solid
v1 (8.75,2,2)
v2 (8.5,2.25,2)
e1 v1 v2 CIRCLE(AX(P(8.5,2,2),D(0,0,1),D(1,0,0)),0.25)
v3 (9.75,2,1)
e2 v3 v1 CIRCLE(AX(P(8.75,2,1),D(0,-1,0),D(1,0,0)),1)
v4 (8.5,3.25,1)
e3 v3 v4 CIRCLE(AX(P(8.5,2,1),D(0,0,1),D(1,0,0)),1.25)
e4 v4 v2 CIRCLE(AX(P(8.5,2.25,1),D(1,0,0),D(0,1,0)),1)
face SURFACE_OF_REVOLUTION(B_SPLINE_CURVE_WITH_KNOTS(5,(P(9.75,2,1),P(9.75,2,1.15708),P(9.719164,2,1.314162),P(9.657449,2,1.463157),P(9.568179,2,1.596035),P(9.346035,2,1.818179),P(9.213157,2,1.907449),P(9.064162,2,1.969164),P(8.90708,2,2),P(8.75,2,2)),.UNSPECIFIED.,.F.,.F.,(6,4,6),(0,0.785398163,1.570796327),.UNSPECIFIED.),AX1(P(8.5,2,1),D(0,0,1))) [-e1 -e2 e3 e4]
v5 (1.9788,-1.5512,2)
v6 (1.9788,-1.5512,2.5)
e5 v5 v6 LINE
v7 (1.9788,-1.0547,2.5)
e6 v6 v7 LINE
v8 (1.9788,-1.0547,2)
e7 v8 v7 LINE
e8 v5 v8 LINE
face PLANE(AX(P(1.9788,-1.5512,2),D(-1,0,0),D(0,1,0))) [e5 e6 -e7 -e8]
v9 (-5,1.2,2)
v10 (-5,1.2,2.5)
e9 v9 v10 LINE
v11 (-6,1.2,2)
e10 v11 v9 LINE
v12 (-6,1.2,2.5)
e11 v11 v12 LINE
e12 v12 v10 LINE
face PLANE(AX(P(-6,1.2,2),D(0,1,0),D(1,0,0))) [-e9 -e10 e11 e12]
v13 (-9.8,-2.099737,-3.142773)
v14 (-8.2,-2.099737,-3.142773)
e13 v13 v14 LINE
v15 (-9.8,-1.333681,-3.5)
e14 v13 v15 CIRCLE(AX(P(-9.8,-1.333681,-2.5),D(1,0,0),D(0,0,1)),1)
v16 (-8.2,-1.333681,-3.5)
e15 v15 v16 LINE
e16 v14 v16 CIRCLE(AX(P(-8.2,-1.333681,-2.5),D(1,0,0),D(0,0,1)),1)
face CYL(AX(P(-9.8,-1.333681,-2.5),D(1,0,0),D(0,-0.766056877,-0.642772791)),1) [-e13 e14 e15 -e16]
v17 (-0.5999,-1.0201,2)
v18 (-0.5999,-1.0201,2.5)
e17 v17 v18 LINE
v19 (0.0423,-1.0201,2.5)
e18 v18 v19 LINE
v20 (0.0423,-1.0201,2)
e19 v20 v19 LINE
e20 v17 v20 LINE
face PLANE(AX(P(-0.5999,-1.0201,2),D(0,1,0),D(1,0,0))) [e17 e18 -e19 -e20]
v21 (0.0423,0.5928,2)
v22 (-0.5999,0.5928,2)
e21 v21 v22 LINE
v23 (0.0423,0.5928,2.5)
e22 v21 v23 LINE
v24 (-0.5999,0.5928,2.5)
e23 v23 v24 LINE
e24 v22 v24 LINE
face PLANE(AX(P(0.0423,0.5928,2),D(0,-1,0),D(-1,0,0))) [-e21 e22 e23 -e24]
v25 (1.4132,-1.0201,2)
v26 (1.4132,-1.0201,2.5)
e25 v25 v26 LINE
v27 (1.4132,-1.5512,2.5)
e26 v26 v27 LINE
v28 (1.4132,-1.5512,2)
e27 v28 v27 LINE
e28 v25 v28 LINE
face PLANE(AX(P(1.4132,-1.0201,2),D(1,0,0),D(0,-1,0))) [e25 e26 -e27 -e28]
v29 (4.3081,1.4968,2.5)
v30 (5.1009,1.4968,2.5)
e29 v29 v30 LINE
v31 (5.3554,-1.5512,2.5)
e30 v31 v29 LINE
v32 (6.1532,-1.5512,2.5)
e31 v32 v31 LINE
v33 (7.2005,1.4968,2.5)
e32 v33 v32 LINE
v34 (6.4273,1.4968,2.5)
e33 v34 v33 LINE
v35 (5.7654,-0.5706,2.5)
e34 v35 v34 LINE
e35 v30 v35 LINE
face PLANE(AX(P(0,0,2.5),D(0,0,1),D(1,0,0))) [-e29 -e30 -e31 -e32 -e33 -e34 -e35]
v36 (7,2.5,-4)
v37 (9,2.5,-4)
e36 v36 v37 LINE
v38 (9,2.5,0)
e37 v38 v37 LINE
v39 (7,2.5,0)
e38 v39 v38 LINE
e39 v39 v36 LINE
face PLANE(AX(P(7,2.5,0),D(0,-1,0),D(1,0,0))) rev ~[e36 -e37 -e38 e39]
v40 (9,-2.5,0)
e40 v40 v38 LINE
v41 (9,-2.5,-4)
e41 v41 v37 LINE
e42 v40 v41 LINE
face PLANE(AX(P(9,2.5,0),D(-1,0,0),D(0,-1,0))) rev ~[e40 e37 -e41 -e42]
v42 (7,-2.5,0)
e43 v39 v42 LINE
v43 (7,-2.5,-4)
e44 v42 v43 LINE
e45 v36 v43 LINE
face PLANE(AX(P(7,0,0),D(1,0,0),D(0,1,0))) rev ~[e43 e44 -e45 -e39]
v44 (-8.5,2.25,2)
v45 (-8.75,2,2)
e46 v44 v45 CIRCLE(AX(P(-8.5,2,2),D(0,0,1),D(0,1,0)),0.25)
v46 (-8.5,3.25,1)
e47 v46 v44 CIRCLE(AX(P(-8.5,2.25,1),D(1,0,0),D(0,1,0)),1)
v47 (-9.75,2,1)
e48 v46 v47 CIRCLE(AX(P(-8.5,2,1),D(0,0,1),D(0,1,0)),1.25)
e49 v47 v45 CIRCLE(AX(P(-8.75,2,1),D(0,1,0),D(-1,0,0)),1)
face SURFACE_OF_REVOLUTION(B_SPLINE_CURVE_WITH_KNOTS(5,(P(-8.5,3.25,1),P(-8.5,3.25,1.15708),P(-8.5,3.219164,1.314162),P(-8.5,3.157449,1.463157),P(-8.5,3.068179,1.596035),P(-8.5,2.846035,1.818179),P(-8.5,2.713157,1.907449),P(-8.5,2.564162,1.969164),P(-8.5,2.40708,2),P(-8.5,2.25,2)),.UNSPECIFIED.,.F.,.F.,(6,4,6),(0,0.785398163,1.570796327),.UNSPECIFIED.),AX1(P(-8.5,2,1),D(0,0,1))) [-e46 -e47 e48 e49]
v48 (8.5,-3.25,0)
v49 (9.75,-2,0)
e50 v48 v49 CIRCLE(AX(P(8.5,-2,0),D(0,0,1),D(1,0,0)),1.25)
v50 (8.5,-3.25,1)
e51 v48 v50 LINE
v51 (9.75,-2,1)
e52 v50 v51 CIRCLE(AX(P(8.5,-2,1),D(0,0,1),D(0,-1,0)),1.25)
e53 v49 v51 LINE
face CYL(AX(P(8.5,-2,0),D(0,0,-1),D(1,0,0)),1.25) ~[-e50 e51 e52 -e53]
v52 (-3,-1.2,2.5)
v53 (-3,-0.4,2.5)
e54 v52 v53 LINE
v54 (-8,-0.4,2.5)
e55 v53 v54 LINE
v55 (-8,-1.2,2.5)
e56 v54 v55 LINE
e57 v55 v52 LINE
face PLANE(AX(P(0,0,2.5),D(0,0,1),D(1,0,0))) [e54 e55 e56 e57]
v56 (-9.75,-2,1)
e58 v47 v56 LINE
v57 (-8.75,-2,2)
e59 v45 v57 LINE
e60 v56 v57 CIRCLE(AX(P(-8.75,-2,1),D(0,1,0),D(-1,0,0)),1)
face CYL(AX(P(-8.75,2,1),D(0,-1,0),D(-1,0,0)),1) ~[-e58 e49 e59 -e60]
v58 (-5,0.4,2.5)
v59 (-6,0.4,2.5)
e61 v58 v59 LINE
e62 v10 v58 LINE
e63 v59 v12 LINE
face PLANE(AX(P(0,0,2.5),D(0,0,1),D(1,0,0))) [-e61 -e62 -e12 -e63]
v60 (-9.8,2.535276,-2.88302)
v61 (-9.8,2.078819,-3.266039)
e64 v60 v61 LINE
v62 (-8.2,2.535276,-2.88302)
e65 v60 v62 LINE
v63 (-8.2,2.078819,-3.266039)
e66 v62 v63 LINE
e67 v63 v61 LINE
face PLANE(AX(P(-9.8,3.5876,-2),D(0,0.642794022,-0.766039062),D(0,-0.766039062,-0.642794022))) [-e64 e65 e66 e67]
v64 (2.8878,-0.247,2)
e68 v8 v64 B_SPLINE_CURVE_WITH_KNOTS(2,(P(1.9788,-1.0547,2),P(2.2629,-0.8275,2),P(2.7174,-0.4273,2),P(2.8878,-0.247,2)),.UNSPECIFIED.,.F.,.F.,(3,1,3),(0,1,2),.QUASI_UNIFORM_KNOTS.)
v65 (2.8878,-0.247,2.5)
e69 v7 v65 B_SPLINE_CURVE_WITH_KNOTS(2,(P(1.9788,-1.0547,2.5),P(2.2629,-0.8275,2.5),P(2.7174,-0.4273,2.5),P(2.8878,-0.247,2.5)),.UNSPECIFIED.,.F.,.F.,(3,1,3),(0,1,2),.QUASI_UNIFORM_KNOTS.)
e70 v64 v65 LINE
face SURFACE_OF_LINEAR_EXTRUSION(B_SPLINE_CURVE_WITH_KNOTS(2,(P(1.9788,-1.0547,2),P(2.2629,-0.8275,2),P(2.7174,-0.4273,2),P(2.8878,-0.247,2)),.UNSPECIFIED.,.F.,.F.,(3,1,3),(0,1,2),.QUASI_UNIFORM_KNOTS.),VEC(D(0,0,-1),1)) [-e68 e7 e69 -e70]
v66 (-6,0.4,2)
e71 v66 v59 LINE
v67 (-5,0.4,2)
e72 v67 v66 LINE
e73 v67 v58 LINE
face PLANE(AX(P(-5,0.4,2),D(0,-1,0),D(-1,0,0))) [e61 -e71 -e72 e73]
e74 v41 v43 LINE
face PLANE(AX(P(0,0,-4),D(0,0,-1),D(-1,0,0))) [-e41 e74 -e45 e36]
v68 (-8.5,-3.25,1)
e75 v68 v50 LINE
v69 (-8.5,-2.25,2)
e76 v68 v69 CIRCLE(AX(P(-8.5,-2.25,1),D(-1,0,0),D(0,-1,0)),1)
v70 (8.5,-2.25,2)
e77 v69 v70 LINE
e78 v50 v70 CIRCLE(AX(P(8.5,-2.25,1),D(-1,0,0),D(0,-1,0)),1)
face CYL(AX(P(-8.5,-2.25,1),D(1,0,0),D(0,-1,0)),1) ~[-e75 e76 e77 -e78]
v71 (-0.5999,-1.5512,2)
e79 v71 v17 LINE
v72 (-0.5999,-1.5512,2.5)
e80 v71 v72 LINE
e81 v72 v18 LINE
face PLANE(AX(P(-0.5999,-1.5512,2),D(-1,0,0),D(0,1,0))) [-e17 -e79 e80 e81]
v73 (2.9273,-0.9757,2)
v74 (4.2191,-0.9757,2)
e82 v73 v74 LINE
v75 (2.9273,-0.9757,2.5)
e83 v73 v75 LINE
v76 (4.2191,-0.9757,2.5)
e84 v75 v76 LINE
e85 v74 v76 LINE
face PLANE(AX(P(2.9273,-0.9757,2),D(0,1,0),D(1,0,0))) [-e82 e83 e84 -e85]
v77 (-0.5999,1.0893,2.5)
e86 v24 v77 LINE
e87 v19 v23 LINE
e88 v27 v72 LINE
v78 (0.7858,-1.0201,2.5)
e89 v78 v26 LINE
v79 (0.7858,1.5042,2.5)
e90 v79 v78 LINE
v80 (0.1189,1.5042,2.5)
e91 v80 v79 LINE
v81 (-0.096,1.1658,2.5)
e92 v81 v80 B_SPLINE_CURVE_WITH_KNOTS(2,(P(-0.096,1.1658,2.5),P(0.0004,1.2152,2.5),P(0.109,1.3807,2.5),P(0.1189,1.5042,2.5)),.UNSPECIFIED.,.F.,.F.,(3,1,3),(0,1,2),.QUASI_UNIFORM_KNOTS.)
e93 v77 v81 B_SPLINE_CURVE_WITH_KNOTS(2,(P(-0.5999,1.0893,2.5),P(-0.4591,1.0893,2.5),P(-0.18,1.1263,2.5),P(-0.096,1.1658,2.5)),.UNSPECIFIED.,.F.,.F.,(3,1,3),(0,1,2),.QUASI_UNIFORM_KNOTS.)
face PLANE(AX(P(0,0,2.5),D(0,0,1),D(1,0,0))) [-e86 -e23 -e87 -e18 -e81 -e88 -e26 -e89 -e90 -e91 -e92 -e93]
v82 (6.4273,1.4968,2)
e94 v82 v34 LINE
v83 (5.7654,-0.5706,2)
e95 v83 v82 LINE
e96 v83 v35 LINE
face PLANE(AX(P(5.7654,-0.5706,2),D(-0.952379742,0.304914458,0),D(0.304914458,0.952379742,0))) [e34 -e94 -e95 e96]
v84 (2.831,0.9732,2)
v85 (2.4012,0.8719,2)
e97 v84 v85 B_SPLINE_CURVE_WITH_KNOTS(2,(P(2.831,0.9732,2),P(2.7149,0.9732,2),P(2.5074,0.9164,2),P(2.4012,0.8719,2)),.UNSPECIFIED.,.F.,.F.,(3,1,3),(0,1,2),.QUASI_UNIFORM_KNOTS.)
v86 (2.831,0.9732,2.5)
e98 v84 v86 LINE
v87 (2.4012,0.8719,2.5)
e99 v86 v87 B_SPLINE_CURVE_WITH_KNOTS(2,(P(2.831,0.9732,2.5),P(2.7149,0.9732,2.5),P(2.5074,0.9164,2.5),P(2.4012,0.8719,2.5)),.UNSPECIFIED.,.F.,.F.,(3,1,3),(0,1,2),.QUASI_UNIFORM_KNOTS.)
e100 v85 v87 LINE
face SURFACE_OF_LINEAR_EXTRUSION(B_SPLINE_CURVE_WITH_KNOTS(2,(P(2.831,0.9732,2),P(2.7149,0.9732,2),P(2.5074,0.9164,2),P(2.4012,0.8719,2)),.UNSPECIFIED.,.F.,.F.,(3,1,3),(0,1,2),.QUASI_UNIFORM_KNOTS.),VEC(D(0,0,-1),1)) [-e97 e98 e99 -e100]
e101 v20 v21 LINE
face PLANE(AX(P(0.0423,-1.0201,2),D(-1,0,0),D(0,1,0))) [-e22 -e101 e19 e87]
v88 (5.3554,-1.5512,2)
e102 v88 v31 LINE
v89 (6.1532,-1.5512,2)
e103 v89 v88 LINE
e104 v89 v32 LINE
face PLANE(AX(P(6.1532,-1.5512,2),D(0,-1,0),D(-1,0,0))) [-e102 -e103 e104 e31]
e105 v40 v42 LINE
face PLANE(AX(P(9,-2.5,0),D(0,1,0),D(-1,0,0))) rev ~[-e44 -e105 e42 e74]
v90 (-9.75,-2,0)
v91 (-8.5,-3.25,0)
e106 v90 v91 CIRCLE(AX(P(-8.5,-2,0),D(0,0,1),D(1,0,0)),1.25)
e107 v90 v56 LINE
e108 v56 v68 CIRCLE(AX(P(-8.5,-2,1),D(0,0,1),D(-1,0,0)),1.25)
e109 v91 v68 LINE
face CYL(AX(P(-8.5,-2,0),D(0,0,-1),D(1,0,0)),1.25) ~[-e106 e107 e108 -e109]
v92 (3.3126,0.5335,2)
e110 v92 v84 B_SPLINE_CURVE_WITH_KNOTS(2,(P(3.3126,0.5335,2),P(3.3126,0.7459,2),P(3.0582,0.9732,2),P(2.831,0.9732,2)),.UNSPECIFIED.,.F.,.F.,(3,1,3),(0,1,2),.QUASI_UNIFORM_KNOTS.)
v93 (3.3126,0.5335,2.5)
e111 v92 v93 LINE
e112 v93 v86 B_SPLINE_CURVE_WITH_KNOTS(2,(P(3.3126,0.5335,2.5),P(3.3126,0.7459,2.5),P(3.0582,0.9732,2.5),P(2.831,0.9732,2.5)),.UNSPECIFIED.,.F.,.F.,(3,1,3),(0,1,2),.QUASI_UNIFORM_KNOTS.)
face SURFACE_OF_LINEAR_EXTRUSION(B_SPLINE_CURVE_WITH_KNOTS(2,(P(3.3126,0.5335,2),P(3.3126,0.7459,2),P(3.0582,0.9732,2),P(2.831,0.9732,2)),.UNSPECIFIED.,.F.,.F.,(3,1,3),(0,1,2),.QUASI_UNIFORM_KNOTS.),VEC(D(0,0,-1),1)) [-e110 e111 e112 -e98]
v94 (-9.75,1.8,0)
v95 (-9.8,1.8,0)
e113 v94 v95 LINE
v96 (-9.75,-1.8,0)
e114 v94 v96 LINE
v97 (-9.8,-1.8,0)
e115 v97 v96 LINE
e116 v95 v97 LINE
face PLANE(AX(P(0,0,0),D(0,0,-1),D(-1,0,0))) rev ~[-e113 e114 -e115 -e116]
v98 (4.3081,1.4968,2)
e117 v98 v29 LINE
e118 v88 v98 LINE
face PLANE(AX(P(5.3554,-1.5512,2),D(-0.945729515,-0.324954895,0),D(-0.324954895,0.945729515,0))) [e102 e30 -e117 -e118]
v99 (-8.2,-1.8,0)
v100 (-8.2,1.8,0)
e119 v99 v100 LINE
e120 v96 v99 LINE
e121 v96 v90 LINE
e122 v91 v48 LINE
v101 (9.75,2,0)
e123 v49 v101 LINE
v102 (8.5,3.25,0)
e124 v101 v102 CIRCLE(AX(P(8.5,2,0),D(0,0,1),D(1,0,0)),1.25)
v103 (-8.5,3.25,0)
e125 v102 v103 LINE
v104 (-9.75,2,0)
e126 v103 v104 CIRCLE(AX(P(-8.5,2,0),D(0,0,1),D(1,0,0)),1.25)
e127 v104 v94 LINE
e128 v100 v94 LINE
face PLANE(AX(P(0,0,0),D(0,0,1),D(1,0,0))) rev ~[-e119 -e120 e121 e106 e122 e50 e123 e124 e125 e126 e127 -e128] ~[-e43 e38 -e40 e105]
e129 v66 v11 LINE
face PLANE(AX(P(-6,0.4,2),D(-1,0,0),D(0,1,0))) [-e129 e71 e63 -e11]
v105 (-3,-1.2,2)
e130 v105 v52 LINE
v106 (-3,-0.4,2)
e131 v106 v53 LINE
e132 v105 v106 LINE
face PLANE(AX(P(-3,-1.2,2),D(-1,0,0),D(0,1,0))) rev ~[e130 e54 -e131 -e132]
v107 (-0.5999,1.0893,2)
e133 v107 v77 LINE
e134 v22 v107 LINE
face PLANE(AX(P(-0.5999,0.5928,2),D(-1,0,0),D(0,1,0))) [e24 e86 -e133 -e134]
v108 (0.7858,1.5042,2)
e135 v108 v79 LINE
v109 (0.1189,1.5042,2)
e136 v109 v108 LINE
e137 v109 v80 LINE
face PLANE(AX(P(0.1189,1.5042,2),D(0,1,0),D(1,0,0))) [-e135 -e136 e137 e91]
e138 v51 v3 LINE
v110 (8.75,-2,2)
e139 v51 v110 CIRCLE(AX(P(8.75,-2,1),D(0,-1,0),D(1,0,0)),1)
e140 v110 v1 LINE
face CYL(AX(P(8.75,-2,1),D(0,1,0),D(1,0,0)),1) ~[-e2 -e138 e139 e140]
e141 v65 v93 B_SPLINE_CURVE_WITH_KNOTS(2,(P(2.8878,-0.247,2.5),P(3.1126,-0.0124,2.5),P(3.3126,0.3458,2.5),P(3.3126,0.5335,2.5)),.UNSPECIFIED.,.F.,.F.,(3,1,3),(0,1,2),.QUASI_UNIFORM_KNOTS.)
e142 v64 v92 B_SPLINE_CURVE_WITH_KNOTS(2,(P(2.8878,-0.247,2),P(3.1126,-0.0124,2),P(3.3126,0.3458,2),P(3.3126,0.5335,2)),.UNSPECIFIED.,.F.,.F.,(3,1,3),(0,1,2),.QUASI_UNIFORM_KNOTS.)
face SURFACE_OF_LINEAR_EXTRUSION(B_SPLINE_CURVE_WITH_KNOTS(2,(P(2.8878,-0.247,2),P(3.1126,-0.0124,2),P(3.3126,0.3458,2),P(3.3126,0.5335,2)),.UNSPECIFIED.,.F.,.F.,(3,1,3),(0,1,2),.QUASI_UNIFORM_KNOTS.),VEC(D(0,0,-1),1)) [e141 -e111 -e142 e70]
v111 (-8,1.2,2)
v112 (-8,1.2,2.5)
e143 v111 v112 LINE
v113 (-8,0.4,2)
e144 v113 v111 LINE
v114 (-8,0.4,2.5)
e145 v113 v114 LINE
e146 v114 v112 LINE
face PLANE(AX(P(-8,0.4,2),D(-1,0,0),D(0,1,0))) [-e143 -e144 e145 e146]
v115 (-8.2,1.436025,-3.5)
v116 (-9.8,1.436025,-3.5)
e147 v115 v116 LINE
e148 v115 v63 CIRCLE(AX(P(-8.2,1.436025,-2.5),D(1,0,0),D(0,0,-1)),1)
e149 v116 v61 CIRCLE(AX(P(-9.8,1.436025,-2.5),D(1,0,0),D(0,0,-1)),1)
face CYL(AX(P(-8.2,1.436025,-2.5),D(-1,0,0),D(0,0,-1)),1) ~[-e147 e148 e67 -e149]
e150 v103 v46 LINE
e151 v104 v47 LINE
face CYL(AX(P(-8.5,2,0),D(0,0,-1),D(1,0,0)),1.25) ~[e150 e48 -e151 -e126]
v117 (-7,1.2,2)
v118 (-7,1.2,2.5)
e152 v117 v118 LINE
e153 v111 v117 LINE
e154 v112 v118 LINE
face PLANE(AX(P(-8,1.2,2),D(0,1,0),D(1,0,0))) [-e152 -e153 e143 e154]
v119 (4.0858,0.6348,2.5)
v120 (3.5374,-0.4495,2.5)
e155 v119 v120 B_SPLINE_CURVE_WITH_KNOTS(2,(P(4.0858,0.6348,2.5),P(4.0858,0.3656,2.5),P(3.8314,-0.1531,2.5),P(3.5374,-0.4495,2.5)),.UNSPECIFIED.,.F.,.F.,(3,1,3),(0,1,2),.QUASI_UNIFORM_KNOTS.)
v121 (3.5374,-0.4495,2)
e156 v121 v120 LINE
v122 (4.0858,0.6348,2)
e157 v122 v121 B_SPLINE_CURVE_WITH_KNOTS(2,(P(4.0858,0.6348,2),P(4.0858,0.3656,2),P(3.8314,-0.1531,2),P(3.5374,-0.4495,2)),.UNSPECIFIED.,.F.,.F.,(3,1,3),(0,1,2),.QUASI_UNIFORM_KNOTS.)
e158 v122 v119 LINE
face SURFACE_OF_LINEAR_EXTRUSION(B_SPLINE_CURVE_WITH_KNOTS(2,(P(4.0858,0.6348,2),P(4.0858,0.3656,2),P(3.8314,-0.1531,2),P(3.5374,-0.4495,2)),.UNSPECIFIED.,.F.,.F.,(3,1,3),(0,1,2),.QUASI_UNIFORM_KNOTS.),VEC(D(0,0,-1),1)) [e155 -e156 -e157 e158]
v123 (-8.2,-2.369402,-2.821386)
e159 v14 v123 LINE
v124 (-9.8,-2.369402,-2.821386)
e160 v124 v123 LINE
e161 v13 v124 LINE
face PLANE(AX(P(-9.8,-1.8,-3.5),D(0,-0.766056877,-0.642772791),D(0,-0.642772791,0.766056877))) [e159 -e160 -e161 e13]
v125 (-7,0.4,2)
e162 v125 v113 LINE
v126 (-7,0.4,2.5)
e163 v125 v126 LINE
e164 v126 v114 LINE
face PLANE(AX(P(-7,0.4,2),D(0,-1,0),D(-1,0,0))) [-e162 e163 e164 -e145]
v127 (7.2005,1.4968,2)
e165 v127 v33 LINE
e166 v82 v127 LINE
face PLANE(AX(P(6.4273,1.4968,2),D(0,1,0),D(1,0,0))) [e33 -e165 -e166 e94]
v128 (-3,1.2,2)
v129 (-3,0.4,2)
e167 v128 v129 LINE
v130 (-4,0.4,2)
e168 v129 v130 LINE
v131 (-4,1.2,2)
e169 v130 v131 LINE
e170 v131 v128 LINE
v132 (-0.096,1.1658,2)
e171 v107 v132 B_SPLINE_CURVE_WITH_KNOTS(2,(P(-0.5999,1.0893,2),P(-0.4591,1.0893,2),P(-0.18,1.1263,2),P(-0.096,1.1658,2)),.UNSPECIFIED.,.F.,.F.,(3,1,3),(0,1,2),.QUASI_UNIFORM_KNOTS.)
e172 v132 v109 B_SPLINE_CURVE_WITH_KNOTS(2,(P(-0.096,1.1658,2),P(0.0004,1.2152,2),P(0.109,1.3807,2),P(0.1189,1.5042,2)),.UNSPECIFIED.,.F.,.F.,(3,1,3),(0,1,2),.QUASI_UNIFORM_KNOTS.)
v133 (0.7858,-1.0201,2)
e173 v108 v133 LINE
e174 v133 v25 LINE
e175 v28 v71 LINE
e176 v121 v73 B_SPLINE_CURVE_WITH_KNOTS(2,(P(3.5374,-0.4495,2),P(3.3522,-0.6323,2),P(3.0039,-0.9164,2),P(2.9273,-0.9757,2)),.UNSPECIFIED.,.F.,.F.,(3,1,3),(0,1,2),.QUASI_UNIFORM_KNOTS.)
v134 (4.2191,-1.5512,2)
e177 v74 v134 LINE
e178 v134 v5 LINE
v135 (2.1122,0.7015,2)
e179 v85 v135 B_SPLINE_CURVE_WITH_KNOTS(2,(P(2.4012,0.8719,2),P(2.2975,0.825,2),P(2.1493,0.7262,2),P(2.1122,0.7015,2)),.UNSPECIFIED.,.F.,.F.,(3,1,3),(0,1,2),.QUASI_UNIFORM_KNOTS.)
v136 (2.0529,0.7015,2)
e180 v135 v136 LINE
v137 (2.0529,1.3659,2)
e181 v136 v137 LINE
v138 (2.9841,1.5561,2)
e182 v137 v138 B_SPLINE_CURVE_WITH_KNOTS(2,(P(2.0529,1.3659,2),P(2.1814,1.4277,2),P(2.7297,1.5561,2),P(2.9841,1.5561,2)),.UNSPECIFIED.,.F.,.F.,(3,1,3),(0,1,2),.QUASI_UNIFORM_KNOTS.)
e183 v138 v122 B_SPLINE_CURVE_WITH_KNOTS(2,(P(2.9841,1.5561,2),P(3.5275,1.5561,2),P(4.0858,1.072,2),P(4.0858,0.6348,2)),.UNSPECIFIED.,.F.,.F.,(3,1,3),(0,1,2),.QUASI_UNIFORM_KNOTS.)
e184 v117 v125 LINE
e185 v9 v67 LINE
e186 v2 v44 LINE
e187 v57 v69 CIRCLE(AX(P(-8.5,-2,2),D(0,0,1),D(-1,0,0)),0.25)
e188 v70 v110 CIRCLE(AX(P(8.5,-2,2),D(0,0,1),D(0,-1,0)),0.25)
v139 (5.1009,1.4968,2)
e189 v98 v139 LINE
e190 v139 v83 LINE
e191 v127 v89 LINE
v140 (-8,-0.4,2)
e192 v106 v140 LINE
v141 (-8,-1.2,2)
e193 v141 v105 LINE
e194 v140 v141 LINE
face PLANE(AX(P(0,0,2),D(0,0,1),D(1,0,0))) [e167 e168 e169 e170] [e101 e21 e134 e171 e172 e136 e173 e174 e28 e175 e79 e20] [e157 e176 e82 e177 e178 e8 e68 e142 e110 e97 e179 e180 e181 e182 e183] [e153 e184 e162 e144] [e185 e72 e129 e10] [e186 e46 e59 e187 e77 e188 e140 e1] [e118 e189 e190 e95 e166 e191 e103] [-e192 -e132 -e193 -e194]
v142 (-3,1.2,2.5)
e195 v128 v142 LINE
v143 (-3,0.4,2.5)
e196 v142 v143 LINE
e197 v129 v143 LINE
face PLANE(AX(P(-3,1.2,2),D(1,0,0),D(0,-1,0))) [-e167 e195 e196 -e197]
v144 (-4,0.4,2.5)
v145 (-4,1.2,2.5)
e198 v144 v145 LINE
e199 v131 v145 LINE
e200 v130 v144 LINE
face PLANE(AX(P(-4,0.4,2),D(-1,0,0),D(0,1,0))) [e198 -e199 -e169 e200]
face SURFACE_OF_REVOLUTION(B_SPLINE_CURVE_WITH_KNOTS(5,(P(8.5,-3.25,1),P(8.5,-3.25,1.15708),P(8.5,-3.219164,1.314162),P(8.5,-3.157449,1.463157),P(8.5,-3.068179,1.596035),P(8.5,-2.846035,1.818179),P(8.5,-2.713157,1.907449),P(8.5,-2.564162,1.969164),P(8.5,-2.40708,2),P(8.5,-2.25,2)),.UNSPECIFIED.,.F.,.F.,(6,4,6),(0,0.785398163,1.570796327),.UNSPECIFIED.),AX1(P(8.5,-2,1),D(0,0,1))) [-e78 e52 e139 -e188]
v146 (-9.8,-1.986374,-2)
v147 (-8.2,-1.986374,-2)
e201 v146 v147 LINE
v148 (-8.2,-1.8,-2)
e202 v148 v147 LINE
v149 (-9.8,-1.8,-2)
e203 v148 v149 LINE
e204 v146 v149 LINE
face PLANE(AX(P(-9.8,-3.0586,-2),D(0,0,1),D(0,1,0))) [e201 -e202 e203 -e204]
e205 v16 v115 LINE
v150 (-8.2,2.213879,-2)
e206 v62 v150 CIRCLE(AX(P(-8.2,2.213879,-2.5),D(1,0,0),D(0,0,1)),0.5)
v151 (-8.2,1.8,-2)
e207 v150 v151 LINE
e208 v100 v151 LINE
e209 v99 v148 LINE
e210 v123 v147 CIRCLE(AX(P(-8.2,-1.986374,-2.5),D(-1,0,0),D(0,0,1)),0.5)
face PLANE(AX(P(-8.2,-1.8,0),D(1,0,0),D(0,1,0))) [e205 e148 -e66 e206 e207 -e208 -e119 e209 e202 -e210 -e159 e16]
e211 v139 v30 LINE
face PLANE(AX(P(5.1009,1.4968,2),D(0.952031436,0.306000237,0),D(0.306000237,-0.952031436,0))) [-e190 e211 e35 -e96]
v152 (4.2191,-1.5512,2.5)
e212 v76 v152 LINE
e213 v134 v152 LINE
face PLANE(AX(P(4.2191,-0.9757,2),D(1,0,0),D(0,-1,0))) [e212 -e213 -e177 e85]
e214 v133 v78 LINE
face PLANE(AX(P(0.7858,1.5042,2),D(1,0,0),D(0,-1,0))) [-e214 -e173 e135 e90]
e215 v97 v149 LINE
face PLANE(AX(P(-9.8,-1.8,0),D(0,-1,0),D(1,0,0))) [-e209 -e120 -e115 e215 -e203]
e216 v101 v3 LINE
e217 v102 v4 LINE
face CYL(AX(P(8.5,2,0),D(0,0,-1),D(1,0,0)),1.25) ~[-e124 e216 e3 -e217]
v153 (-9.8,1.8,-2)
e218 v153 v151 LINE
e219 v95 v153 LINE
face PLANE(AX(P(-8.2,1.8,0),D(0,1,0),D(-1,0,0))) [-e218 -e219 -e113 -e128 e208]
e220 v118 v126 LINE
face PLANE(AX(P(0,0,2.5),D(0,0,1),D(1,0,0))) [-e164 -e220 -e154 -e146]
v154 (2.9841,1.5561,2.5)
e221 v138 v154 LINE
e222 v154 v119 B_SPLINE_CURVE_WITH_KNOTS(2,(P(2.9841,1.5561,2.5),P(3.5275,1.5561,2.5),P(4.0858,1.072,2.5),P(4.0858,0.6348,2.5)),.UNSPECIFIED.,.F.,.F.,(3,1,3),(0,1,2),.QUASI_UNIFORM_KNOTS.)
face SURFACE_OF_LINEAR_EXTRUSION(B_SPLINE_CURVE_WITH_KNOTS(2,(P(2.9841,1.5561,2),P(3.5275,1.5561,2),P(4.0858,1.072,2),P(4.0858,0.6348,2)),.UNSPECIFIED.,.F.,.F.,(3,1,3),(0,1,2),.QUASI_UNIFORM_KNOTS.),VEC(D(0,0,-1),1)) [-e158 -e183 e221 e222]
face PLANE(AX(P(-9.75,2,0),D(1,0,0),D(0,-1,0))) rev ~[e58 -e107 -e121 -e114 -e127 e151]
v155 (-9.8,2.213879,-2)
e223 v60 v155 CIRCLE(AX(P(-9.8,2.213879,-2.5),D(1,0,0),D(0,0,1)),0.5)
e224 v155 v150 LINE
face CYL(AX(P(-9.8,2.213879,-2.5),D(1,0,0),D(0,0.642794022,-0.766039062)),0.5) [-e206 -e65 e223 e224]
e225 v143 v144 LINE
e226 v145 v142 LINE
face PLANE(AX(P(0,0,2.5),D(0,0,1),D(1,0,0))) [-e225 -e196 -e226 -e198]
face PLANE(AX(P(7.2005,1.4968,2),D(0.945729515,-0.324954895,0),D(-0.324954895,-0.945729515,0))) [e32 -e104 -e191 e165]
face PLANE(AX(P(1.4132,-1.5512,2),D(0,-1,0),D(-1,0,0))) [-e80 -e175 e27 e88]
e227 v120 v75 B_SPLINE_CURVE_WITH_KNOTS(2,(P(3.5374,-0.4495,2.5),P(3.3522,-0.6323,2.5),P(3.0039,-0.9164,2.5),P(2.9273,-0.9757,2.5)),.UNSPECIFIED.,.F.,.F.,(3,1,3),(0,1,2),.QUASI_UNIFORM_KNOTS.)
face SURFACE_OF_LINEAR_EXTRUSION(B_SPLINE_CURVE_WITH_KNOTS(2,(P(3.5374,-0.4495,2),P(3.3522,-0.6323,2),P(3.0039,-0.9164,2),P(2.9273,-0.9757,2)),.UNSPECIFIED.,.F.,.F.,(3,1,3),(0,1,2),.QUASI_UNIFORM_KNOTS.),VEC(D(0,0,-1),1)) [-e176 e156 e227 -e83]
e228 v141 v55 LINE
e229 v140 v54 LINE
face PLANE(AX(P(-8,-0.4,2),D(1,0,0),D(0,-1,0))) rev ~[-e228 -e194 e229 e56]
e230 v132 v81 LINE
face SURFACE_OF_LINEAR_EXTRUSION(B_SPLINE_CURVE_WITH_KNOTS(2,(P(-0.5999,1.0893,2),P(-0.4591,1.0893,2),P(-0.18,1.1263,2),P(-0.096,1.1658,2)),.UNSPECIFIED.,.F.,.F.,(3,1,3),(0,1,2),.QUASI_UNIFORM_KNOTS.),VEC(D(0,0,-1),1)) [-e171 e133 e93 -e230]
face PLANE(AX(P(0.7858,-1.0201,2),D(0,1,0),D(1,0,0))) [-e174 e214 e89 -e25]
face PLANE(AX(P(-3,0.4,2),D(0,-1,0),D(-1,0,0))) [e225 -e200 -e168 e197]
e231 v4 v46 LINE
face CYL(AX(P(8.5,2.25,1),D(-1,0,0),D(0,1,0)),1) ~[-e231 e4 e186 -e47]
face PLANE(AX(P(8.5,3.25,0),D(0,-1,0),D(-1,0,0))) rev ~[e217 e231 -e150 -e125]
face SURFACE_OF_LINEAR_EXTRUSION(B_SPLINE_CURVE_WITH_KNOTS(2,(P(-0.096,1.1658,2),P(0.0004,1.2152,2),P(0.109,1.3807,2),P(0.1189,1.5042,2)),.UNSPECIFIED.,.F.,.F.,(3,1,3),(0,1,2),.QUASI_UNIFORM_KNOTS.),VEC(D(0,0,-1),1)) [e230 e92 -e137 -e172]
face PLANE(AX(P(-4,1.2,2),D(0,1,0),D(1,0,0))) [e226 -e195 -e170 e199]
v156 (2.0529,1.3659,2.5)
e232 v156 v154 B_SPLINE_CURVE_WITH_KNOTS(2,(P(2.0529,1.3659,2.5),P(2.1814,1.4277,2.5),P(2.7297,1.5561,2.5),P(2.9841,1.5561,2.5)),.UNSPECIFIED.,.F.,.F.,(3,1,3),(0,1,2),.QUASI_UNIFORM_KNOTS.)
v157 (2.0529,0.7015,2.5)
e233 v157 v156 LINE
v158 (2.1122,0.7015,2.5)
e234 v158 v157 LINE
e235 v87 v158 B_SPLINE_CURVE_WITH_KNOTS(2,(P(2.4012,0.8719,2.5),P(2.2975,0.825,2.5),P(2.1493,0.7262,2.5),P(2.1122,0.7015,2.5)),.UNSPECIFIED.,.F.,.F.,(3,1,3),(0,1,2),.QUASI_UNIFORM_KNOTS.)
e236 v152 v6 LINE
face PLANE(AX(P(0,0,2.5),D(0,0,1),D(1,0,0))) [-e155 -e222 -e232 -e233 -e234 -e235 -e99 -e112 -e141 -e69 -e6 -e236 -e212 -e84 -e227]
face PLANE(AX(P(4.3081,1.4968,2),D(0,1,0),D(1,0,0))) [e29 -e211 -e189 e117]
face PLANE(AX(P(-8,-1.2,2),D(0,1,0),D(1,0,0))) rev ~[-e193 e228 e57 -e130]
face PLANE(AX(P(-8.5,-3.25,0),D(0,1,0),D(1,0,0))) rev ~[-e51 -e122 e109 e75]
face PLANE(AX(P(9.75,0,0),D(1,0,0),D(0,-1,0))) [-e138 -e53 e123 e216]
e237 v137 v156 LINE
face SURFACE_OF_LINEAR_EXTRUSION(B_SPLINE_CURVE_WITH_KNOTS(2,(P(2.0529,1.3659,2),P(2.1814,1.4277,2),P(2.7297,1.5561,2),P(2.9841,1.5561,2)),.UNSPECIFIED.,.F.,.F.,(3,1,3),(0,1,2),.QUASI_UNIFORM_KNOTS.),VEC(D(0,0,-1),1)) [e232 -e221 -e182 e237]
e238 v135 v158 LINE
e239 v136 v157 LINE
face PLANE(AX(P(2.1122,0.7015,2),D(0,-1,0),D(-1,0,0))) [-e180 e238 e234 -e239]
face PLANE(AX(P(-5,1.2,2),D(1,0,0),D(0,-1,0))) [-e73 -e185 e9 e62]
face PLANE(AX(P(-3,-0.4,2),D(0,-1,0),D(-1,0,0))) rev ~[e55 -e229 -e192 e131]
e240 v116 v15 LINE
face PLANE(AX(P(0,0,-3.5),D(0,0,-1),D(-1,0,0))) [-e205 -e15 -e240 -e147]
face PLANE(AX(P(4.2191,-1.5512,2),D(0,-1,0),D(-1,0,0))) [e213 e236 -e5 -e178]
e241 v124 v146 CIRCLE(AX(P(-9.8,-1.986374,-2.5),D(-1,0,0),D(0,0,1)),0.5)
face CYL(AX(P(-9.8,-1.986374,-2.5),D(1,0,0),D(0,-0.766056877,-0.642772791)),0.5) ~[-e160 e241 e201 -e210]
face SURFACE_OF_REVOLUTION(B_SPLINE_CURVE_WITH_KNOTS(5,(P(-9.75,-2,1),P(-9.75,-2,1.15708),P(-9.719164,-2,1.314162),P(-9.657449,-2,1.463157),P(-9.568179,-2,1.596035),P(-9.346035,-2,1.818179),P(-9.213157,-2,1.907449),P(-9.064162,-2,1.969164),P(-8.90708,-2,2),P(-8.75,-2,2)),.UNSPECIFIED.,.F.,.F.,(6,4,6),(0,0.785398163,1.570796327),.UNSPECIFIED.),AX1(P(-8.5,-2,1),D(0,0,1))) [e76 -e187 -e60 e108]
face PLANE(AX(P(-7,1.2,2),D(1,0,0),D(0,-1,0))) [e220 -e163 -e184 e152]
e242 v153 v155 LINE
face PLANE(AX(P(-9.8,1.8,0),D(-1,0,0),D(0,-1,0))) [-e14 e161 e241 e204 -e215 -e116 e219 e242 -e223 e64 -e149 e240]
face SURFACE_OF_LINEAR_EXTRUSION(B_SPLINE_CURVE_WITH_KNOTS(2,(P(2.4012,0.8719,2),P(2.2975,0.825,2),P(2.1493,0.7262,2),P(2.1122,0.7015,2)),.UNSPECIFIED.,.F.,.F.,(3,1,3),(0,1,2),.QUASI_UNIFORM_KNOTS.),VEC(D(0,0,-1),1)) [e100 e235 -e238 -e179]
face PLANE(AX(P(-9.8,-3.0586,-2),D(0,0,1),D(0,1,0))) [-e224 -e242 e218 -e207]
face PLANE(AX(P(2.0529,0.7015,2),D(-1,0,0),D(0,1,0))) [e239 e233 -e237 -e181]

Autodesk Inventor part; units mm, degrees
ref_plane "YZ Plane" through (0, 0, 0) normal (1, 0, 0) x (0, 1, 0)
ref_plane "XZ Plane" through (0, 0, 0) normal (0, 1, 0) x (-1, 0, 0)
ref_plane "XY Plane" through (0, 0, 0) normal (0, 0, 1) x (1, 0, 0)
sketch "Sketch1" plane through (0, 0, 0) normal (0, 0, 1) x (1, 0, 0)
  line L0 (10, 0) -> (10, 2) projected
  arc A0 (10, 2) -> (8.5, 3.5) centre (8.5, 2) ccw projected
  line L1 (8.5, 3.5) -> (-8.5, 3.5) projected
  arc A1 (-8.5, 3.5) -> (-10, 2) centre (-8.5, 2) ccw projected
  line L2 (-10, 2) -> (-8, 2) projected
  line L3 (-8, 2) -> (-8, 0) projected
  line L4 (-6, 0) -> (-8, 0) projected
  arc A2 (0, 0) -> (-6, 0) centre (-3, 0) ccw projected
  line L5 (7, 0) -> (0, 0) projected
  line L6 (7, 0) -> (7, 2.5) projected
  line L7 (7, 2.5) -> (9, 2.5) projected
  line L8 (9, 2.5) -> (9, 0) projected
  line L9 (10, 0) -> (9, 0) projected
  line L10 (-8, -2) -> (-10, -2) projected
  arc A3 (-10, -2) -> (-8.5, -3.5) centre (-8.5, -2) ccw projected
  line L11 (8.5, -3.5) -> (-8.5, -3.5) projected
  arc A4 (8.5, -3.5) -> (10, -2) centre (8.5, -2) ccw projected
  line L12 (10, 0) -> (10, -2) projected
  line L13 (9, 0) -> (10, 0) projected
  line L14 (9, 0) -> (9, -2.5) projected
  line L15 (9, -2.5) -> (7, -2.5) projected
  line L16 (7, -2.5) -> (7, 0) projected
  line L17 (0, 0) -> (7, 0) projected
  arc A5 (-6, 0) -> (0, 0) centre (-3, 0) ccw projected
  line L18 (-8, 0) -> (-6, 0) projected
  line L19 (-8, 0) -> (-8, -2) projected
  line L20 (-10, 2) -> (-10, 0) projected
  line L21 (-10, -2) -> (-10, 0) projected
  circle A6 centre (-8.5, 2) radius 1.25
  circle A7 centre (-8.5, -2) radius 1.25
  circle A8 centre (8.5, -2) radius 1.25
  circle A9 centre (8.5, 2) radius 1.25
  line L22 (8.5, 3.25) -> (-8.5, 3.25)
  line L23 (-9.75, 2) -> (-9.75, -2)
  line L24 (-8.5, -3.25) -> (8.5, -3.25)
  line L25 (9.75, 2) -> (9.75, -2)
  dimension "d22" = 0.25
extrude "Extrusion1" add sketch "Sketch1" along normal blind 2 contours L25 A8 L14 L9 | L9 L8 A9 L25 | L14 A8 L15 L16 L6 L7 A9 L8 | A9 L8 L7 | A8 L15 L14 | A9 L7 L8 | L14 L15 A8 | A9 L7 L6 L5 A2 L4 L3 A6 L22 | L24 A7 L19 L4 A5 L5 L16 L15 A8 | A6 L3 L2 | A7 L10 L19 | L2 L3 A6 | A6 L3 L19 A7 L23 | A7 L19 L10 | A5 A2
sketch "Sketch2" plane through (0, 0, 0) normal (0, 0, -1) x (-1, 0, 0)
  line L0 (-9, -2.5) -> (-7, -2.5) projected
  line L1 (-9, 2.5) -> (-9, 0) projected
  line L2 (-7, 2.5) -> (-9, 2.5) projected
  line L3 (-7, 0) -> (-7, 2.5) projected
  line L4 (-7, -2.5) -> (-7, 0) projected
  line L5 (-9, 0) -> (-9, -2.5) projected
  point P0 (0, 0)
extrude "Extrusion2" add sketch "Sketch2" along normal blind 4
sketch "Sketch3" plane through (0, 0, 0) normal (0, 0, -1) x (-1, 0, 0)
  line L0 (8, 2) -> (8, 0) projected
  line L1 (8, 0) -> (8, -2) projected
  line L2 (8, -2) -> (10, -2) projected
  line L3 (10, -2) -> (10, 0) projected
  line L4 (10, 2) -> (10, 0) projected
  line L5 (10, 2) -> (8, 2) projected
  line L6 (9.8, -1.8) -> (8.2, -1.8)
  line L7 (8.2, -1.8) -> (8.2, 1.8)
  line L8 (8.2, 1.8) -> (9.8, 1.8)
  line L9 (9.8, 1.8) -> (9.8, -1.8)
  point P0 (0, 0)
  dimension "d5" = 0.2
  dimension "d6" = 0.2
  dimension "d7" = 0.2
  dimension "d8" = 0.2
extrude "Extrusion3" add sketch "Sketch3" along normal blind 3.5 contours L6 L7 L8 L9
sketch "Sketch4" plane through (-9.8, -1.8, 0) normal (-1, 0, 0) x (0, 0, 1)
  line L0 (-3.5, 0) -> (-3.5, 3.6) projected
  line L1 (0, 3.6) -> (-3.5, 3.6) projected
  line L2 (0, 0) -> (-3.5, 0) projected
  line L3 (-3.5, 0) -> (-2, -1.2586)
  line L4 (-2, -1.2586) -> (-2, 5.3876)
  line L5 (-2, 5.3876) -> (-3.5, 3.6)
  point P0 (0, 1.8)
  dimension "d11" = 50
  dimension "d12" = 50
  dimension "d13" = 1.5
extrude "Extrusion4" add sketch "Sketch4" against normal up to surface (1.6 mm away)
fillet "Fillet2" radius 1 2 edges at (-9, -1.8, -3.5) (-9, 1.8, -3.5)
fillet "Fillet3" radius 0.5 2 edges at (-9, 3.5876, -2) (-9, -3.0586, -2)
fillet "Fillet4" radius 1 5 edges at (9.3839, 2.8839, 2) (9.75, 0, 2) (9.3839, -2.8839, 2) (0, -3.25, 2) (0, 3.25, 2)
sketch "Sketch7" plane through (0, 0, 2) normal (0, 0, 1) x (1, 0, 0)
  line L0 (-6.9276, 0) -> (0, 0) construction
  line L1 (-8, -1.2) -> (-3, -1.2)
  line L2 (-3, -1.2) -> (-3, -0.4)
  line L3 (-3, -0.4) -> (-8, -0.4)
  line L4 (-8, -0.4) -> (-8, -1.2)
  line L5 (-8, 1.2) -> (-7, 1.2)
  line L6 (-7, 1.2) -> (-7, 0.4)
  line L7 (-7, 0.4) -> (-8, 0.4)
  line L8 (-8, 0.4) -> (-8, 1.2)
  line L9 (-6, 0.4) -> (-6, 1.2)
  line L10 (-4, 1.2) -> (-3, 1.2)
  line L11 (-3, 1.2) -> (-3, 0.4)
  line L12 (-3, 0.4) -> (-4, 0.4)
  line L13 (-4, 0.4) -> (-4, 1.2)
  line L14 (-6, 1.2) -> (-5, 1.2)
  line L15 (-5, 1.2) -> (-5, 0.4)
  line L16 (-5, 0.4) -> (-6, 0.4)
  dimension "d31" = 5
  dimension "d32" = 0.8
  dimension "d33" = 0.4
  dimension "d35" = 0.8
  dimension "d36" = 1
  dimension "d37" = 1
  dimension "d38" = 1
  dimension "d39" = 1
  dimension "d40" = 1
  dimension "d41" = 3
  dimension "d42" = 0.4
extrude "Extrusion6" add sketch "Sketch7" along normal blind 0.5
sketch "Sketch8" plane through (0, 0, 2) normal (0, 0, 1) x (1, 0, 0)
  line L0 (-1, 1.5561) -> (6.4631, 1.5561) construction
  line L1 (6.4631, 1.5561) -> (6.4631, -1.5561) construction
  line L2 (6.4631, -1.5561) -> (-1, -1.5561) construction
  line L3 (-1, -1.5561) -> (-1, 1.5561) construction
  line L4 (1.4132, -1.5512) -> (-0.5999, -1.5512)
  line L5 (-0.5999, -1.5512) -> (-0.5999, -1.0201)
  line L6 (-0.5999, -1.0201) -> (0.0423, -1.0201)
  line L7 (0.0423, -1.0201) -> (0.0423, 0.5928)
  line L8 (0.0423, 0.5928) -> (-0.5999, 0.5928)
  line L9 (-0.5999, 0.5928) -> (-0.5999, 1.0893)
  spline S0 degree 2 poles (-0.5999, 1.0893) (-0.4591, 1.0893) (-0.18, 1.1263) (-0.096, 1.1658) knots 0 0 0 1 2 2 2
  spline S1 degree 2 poles (-0.096, 1.1658) (0.0004, 1.2152) (0.109, 1.3807) (0.1189, 1.5042) knots 0 0 0 1 2 2 2
  line L10 (0.1189, 1.5042) -> (0.7858, 1.5042)
  line L11 (0.7858, 1.5042) -> (0.7858, -1.0201)
  line L12 (0.7858, -1.0201) -> (1.4132, -1.0201)
  line L13 (1.4132, -1.0201) -> (1.4132, -1.5512)
  line L14 (4.2191, -1.5512) -> (1.9788, -1.5512)
  line L15 (1.9788, -1.5512) -> (1.9788, -1.0547)
  spline S2 degree 2 poles (1.9788, -1.0547) (2.2629, -0.8275) (2.7174, -0.4273) (2.8878, -0.247) knots 0 0 0 1 2 2 2
  spline S3 degree 2 poles (2.8878, -0.247) (3.1126, -0.0124) (3.3126, 0.3458) (3.3126, 0.5335) knots 0 0 0 1 2 2 2
  spline S4 degree 2 poles (3.3126, 0.5335) (3.3126, 0.7459) (3.0582, 0.9732) (2.831, 0.9732) knots 0 0 0 1 2 2 2
  spline S5 degree 2 poles (2.831, 0.9732) (2.7149, 0.9732) (2.5074, 0.9164) (2.4012, 0.8719) knots 0 0 0 1 2 2 2
  spline S6 degree 2 poles (2.4012, 0.8719) (2.2975, 0.825) (2.1493, 0.7262) (2.1122, 0.7015) knots 0 0 0 1 2 2 2
  line L16 (2.1122, 0.7015) -> (2.0529, 0.7015)
  line L17 (2.0529, 0.7015) -> (2.0529, 1.3659)
  spline S7 degree 2 poles (2.0529, 1.3659) (2.1814, 1.4277) (2.7297, 1.5561) (2.9841, 1.5561) knots 0 0 0 1 2 2 2
  spline S8 degree 2 poles (2.9841, 1.5561) (3.5275, 1.5561) (4.0858, 1.072) (4.0858, 0.6348) knots 0 0 0 1 2 2 2
  spline S9 degree 2 poles (4.0858, 0.6348) (4.0858, 0.3656) (3.8314, -0.1531) (3.5374, -0.4495) knots 0 0 0 1 2 2 2
  spline S10 degree 2 poles (3.5374, -0.4495) (3.3522, -0.6323) (3.0039, -0.9164) (2.9273, -0.9757) knots 0 0 0 1 2 2 2
  line L18 (2.9273, -0.9757) -> (4.2191, -0.9757)
  line L19 (4.2191, -0.9757) -> (4.2191, -1.5512)
  line L20 (7.2005, 1.4968) -> (6.1532, -1.5512)
  line L21 (6.1532, -1.5512) -> (5.3554, -1.5512)
  line L22 (5.3554, -1.5512) -> (4.3081, 1.4968)
  line L23 (4.3081, 1.4968) -> (5.1009, 1.4968)
  line L24 (5.1009, 1.4968) -> (5.7654, -0.5706)
  line L25 (5.7654, -0.5706) -> (6.4273, 1.4968)
  line L26 (6.4273, 1.4968) -> (7.2005, 1.4968)
  point P0 (0, 0)
  dimension "d45" = 3.1122
  dimension "d46" = 1.5561
  dimension "d47" = 1
extrude "Extrusion7" add sketch "Sketch8" along normal blind 0.5
equation "\"d6\" = d5"
equation "\"d7\" = d6"
equation "\"d8\" = d5"
equation "\"d12\" = d11"
equation "\"d33\" = 0.5 * d32"
equation "\"d35\" = d32"
equation "\"d36\" = 0.2 * d31"
equation "\"d37\" = d36"
equation "\"d38\" = d36"
equation "\"d39\" = d36"
equation "\"d40\" = d36"
equation "\"d42\" = d33"
equation "\"d46\" = 0.5 * d45"
properties part number "rubber-flippity-flap" material "Nylon 6/6"
